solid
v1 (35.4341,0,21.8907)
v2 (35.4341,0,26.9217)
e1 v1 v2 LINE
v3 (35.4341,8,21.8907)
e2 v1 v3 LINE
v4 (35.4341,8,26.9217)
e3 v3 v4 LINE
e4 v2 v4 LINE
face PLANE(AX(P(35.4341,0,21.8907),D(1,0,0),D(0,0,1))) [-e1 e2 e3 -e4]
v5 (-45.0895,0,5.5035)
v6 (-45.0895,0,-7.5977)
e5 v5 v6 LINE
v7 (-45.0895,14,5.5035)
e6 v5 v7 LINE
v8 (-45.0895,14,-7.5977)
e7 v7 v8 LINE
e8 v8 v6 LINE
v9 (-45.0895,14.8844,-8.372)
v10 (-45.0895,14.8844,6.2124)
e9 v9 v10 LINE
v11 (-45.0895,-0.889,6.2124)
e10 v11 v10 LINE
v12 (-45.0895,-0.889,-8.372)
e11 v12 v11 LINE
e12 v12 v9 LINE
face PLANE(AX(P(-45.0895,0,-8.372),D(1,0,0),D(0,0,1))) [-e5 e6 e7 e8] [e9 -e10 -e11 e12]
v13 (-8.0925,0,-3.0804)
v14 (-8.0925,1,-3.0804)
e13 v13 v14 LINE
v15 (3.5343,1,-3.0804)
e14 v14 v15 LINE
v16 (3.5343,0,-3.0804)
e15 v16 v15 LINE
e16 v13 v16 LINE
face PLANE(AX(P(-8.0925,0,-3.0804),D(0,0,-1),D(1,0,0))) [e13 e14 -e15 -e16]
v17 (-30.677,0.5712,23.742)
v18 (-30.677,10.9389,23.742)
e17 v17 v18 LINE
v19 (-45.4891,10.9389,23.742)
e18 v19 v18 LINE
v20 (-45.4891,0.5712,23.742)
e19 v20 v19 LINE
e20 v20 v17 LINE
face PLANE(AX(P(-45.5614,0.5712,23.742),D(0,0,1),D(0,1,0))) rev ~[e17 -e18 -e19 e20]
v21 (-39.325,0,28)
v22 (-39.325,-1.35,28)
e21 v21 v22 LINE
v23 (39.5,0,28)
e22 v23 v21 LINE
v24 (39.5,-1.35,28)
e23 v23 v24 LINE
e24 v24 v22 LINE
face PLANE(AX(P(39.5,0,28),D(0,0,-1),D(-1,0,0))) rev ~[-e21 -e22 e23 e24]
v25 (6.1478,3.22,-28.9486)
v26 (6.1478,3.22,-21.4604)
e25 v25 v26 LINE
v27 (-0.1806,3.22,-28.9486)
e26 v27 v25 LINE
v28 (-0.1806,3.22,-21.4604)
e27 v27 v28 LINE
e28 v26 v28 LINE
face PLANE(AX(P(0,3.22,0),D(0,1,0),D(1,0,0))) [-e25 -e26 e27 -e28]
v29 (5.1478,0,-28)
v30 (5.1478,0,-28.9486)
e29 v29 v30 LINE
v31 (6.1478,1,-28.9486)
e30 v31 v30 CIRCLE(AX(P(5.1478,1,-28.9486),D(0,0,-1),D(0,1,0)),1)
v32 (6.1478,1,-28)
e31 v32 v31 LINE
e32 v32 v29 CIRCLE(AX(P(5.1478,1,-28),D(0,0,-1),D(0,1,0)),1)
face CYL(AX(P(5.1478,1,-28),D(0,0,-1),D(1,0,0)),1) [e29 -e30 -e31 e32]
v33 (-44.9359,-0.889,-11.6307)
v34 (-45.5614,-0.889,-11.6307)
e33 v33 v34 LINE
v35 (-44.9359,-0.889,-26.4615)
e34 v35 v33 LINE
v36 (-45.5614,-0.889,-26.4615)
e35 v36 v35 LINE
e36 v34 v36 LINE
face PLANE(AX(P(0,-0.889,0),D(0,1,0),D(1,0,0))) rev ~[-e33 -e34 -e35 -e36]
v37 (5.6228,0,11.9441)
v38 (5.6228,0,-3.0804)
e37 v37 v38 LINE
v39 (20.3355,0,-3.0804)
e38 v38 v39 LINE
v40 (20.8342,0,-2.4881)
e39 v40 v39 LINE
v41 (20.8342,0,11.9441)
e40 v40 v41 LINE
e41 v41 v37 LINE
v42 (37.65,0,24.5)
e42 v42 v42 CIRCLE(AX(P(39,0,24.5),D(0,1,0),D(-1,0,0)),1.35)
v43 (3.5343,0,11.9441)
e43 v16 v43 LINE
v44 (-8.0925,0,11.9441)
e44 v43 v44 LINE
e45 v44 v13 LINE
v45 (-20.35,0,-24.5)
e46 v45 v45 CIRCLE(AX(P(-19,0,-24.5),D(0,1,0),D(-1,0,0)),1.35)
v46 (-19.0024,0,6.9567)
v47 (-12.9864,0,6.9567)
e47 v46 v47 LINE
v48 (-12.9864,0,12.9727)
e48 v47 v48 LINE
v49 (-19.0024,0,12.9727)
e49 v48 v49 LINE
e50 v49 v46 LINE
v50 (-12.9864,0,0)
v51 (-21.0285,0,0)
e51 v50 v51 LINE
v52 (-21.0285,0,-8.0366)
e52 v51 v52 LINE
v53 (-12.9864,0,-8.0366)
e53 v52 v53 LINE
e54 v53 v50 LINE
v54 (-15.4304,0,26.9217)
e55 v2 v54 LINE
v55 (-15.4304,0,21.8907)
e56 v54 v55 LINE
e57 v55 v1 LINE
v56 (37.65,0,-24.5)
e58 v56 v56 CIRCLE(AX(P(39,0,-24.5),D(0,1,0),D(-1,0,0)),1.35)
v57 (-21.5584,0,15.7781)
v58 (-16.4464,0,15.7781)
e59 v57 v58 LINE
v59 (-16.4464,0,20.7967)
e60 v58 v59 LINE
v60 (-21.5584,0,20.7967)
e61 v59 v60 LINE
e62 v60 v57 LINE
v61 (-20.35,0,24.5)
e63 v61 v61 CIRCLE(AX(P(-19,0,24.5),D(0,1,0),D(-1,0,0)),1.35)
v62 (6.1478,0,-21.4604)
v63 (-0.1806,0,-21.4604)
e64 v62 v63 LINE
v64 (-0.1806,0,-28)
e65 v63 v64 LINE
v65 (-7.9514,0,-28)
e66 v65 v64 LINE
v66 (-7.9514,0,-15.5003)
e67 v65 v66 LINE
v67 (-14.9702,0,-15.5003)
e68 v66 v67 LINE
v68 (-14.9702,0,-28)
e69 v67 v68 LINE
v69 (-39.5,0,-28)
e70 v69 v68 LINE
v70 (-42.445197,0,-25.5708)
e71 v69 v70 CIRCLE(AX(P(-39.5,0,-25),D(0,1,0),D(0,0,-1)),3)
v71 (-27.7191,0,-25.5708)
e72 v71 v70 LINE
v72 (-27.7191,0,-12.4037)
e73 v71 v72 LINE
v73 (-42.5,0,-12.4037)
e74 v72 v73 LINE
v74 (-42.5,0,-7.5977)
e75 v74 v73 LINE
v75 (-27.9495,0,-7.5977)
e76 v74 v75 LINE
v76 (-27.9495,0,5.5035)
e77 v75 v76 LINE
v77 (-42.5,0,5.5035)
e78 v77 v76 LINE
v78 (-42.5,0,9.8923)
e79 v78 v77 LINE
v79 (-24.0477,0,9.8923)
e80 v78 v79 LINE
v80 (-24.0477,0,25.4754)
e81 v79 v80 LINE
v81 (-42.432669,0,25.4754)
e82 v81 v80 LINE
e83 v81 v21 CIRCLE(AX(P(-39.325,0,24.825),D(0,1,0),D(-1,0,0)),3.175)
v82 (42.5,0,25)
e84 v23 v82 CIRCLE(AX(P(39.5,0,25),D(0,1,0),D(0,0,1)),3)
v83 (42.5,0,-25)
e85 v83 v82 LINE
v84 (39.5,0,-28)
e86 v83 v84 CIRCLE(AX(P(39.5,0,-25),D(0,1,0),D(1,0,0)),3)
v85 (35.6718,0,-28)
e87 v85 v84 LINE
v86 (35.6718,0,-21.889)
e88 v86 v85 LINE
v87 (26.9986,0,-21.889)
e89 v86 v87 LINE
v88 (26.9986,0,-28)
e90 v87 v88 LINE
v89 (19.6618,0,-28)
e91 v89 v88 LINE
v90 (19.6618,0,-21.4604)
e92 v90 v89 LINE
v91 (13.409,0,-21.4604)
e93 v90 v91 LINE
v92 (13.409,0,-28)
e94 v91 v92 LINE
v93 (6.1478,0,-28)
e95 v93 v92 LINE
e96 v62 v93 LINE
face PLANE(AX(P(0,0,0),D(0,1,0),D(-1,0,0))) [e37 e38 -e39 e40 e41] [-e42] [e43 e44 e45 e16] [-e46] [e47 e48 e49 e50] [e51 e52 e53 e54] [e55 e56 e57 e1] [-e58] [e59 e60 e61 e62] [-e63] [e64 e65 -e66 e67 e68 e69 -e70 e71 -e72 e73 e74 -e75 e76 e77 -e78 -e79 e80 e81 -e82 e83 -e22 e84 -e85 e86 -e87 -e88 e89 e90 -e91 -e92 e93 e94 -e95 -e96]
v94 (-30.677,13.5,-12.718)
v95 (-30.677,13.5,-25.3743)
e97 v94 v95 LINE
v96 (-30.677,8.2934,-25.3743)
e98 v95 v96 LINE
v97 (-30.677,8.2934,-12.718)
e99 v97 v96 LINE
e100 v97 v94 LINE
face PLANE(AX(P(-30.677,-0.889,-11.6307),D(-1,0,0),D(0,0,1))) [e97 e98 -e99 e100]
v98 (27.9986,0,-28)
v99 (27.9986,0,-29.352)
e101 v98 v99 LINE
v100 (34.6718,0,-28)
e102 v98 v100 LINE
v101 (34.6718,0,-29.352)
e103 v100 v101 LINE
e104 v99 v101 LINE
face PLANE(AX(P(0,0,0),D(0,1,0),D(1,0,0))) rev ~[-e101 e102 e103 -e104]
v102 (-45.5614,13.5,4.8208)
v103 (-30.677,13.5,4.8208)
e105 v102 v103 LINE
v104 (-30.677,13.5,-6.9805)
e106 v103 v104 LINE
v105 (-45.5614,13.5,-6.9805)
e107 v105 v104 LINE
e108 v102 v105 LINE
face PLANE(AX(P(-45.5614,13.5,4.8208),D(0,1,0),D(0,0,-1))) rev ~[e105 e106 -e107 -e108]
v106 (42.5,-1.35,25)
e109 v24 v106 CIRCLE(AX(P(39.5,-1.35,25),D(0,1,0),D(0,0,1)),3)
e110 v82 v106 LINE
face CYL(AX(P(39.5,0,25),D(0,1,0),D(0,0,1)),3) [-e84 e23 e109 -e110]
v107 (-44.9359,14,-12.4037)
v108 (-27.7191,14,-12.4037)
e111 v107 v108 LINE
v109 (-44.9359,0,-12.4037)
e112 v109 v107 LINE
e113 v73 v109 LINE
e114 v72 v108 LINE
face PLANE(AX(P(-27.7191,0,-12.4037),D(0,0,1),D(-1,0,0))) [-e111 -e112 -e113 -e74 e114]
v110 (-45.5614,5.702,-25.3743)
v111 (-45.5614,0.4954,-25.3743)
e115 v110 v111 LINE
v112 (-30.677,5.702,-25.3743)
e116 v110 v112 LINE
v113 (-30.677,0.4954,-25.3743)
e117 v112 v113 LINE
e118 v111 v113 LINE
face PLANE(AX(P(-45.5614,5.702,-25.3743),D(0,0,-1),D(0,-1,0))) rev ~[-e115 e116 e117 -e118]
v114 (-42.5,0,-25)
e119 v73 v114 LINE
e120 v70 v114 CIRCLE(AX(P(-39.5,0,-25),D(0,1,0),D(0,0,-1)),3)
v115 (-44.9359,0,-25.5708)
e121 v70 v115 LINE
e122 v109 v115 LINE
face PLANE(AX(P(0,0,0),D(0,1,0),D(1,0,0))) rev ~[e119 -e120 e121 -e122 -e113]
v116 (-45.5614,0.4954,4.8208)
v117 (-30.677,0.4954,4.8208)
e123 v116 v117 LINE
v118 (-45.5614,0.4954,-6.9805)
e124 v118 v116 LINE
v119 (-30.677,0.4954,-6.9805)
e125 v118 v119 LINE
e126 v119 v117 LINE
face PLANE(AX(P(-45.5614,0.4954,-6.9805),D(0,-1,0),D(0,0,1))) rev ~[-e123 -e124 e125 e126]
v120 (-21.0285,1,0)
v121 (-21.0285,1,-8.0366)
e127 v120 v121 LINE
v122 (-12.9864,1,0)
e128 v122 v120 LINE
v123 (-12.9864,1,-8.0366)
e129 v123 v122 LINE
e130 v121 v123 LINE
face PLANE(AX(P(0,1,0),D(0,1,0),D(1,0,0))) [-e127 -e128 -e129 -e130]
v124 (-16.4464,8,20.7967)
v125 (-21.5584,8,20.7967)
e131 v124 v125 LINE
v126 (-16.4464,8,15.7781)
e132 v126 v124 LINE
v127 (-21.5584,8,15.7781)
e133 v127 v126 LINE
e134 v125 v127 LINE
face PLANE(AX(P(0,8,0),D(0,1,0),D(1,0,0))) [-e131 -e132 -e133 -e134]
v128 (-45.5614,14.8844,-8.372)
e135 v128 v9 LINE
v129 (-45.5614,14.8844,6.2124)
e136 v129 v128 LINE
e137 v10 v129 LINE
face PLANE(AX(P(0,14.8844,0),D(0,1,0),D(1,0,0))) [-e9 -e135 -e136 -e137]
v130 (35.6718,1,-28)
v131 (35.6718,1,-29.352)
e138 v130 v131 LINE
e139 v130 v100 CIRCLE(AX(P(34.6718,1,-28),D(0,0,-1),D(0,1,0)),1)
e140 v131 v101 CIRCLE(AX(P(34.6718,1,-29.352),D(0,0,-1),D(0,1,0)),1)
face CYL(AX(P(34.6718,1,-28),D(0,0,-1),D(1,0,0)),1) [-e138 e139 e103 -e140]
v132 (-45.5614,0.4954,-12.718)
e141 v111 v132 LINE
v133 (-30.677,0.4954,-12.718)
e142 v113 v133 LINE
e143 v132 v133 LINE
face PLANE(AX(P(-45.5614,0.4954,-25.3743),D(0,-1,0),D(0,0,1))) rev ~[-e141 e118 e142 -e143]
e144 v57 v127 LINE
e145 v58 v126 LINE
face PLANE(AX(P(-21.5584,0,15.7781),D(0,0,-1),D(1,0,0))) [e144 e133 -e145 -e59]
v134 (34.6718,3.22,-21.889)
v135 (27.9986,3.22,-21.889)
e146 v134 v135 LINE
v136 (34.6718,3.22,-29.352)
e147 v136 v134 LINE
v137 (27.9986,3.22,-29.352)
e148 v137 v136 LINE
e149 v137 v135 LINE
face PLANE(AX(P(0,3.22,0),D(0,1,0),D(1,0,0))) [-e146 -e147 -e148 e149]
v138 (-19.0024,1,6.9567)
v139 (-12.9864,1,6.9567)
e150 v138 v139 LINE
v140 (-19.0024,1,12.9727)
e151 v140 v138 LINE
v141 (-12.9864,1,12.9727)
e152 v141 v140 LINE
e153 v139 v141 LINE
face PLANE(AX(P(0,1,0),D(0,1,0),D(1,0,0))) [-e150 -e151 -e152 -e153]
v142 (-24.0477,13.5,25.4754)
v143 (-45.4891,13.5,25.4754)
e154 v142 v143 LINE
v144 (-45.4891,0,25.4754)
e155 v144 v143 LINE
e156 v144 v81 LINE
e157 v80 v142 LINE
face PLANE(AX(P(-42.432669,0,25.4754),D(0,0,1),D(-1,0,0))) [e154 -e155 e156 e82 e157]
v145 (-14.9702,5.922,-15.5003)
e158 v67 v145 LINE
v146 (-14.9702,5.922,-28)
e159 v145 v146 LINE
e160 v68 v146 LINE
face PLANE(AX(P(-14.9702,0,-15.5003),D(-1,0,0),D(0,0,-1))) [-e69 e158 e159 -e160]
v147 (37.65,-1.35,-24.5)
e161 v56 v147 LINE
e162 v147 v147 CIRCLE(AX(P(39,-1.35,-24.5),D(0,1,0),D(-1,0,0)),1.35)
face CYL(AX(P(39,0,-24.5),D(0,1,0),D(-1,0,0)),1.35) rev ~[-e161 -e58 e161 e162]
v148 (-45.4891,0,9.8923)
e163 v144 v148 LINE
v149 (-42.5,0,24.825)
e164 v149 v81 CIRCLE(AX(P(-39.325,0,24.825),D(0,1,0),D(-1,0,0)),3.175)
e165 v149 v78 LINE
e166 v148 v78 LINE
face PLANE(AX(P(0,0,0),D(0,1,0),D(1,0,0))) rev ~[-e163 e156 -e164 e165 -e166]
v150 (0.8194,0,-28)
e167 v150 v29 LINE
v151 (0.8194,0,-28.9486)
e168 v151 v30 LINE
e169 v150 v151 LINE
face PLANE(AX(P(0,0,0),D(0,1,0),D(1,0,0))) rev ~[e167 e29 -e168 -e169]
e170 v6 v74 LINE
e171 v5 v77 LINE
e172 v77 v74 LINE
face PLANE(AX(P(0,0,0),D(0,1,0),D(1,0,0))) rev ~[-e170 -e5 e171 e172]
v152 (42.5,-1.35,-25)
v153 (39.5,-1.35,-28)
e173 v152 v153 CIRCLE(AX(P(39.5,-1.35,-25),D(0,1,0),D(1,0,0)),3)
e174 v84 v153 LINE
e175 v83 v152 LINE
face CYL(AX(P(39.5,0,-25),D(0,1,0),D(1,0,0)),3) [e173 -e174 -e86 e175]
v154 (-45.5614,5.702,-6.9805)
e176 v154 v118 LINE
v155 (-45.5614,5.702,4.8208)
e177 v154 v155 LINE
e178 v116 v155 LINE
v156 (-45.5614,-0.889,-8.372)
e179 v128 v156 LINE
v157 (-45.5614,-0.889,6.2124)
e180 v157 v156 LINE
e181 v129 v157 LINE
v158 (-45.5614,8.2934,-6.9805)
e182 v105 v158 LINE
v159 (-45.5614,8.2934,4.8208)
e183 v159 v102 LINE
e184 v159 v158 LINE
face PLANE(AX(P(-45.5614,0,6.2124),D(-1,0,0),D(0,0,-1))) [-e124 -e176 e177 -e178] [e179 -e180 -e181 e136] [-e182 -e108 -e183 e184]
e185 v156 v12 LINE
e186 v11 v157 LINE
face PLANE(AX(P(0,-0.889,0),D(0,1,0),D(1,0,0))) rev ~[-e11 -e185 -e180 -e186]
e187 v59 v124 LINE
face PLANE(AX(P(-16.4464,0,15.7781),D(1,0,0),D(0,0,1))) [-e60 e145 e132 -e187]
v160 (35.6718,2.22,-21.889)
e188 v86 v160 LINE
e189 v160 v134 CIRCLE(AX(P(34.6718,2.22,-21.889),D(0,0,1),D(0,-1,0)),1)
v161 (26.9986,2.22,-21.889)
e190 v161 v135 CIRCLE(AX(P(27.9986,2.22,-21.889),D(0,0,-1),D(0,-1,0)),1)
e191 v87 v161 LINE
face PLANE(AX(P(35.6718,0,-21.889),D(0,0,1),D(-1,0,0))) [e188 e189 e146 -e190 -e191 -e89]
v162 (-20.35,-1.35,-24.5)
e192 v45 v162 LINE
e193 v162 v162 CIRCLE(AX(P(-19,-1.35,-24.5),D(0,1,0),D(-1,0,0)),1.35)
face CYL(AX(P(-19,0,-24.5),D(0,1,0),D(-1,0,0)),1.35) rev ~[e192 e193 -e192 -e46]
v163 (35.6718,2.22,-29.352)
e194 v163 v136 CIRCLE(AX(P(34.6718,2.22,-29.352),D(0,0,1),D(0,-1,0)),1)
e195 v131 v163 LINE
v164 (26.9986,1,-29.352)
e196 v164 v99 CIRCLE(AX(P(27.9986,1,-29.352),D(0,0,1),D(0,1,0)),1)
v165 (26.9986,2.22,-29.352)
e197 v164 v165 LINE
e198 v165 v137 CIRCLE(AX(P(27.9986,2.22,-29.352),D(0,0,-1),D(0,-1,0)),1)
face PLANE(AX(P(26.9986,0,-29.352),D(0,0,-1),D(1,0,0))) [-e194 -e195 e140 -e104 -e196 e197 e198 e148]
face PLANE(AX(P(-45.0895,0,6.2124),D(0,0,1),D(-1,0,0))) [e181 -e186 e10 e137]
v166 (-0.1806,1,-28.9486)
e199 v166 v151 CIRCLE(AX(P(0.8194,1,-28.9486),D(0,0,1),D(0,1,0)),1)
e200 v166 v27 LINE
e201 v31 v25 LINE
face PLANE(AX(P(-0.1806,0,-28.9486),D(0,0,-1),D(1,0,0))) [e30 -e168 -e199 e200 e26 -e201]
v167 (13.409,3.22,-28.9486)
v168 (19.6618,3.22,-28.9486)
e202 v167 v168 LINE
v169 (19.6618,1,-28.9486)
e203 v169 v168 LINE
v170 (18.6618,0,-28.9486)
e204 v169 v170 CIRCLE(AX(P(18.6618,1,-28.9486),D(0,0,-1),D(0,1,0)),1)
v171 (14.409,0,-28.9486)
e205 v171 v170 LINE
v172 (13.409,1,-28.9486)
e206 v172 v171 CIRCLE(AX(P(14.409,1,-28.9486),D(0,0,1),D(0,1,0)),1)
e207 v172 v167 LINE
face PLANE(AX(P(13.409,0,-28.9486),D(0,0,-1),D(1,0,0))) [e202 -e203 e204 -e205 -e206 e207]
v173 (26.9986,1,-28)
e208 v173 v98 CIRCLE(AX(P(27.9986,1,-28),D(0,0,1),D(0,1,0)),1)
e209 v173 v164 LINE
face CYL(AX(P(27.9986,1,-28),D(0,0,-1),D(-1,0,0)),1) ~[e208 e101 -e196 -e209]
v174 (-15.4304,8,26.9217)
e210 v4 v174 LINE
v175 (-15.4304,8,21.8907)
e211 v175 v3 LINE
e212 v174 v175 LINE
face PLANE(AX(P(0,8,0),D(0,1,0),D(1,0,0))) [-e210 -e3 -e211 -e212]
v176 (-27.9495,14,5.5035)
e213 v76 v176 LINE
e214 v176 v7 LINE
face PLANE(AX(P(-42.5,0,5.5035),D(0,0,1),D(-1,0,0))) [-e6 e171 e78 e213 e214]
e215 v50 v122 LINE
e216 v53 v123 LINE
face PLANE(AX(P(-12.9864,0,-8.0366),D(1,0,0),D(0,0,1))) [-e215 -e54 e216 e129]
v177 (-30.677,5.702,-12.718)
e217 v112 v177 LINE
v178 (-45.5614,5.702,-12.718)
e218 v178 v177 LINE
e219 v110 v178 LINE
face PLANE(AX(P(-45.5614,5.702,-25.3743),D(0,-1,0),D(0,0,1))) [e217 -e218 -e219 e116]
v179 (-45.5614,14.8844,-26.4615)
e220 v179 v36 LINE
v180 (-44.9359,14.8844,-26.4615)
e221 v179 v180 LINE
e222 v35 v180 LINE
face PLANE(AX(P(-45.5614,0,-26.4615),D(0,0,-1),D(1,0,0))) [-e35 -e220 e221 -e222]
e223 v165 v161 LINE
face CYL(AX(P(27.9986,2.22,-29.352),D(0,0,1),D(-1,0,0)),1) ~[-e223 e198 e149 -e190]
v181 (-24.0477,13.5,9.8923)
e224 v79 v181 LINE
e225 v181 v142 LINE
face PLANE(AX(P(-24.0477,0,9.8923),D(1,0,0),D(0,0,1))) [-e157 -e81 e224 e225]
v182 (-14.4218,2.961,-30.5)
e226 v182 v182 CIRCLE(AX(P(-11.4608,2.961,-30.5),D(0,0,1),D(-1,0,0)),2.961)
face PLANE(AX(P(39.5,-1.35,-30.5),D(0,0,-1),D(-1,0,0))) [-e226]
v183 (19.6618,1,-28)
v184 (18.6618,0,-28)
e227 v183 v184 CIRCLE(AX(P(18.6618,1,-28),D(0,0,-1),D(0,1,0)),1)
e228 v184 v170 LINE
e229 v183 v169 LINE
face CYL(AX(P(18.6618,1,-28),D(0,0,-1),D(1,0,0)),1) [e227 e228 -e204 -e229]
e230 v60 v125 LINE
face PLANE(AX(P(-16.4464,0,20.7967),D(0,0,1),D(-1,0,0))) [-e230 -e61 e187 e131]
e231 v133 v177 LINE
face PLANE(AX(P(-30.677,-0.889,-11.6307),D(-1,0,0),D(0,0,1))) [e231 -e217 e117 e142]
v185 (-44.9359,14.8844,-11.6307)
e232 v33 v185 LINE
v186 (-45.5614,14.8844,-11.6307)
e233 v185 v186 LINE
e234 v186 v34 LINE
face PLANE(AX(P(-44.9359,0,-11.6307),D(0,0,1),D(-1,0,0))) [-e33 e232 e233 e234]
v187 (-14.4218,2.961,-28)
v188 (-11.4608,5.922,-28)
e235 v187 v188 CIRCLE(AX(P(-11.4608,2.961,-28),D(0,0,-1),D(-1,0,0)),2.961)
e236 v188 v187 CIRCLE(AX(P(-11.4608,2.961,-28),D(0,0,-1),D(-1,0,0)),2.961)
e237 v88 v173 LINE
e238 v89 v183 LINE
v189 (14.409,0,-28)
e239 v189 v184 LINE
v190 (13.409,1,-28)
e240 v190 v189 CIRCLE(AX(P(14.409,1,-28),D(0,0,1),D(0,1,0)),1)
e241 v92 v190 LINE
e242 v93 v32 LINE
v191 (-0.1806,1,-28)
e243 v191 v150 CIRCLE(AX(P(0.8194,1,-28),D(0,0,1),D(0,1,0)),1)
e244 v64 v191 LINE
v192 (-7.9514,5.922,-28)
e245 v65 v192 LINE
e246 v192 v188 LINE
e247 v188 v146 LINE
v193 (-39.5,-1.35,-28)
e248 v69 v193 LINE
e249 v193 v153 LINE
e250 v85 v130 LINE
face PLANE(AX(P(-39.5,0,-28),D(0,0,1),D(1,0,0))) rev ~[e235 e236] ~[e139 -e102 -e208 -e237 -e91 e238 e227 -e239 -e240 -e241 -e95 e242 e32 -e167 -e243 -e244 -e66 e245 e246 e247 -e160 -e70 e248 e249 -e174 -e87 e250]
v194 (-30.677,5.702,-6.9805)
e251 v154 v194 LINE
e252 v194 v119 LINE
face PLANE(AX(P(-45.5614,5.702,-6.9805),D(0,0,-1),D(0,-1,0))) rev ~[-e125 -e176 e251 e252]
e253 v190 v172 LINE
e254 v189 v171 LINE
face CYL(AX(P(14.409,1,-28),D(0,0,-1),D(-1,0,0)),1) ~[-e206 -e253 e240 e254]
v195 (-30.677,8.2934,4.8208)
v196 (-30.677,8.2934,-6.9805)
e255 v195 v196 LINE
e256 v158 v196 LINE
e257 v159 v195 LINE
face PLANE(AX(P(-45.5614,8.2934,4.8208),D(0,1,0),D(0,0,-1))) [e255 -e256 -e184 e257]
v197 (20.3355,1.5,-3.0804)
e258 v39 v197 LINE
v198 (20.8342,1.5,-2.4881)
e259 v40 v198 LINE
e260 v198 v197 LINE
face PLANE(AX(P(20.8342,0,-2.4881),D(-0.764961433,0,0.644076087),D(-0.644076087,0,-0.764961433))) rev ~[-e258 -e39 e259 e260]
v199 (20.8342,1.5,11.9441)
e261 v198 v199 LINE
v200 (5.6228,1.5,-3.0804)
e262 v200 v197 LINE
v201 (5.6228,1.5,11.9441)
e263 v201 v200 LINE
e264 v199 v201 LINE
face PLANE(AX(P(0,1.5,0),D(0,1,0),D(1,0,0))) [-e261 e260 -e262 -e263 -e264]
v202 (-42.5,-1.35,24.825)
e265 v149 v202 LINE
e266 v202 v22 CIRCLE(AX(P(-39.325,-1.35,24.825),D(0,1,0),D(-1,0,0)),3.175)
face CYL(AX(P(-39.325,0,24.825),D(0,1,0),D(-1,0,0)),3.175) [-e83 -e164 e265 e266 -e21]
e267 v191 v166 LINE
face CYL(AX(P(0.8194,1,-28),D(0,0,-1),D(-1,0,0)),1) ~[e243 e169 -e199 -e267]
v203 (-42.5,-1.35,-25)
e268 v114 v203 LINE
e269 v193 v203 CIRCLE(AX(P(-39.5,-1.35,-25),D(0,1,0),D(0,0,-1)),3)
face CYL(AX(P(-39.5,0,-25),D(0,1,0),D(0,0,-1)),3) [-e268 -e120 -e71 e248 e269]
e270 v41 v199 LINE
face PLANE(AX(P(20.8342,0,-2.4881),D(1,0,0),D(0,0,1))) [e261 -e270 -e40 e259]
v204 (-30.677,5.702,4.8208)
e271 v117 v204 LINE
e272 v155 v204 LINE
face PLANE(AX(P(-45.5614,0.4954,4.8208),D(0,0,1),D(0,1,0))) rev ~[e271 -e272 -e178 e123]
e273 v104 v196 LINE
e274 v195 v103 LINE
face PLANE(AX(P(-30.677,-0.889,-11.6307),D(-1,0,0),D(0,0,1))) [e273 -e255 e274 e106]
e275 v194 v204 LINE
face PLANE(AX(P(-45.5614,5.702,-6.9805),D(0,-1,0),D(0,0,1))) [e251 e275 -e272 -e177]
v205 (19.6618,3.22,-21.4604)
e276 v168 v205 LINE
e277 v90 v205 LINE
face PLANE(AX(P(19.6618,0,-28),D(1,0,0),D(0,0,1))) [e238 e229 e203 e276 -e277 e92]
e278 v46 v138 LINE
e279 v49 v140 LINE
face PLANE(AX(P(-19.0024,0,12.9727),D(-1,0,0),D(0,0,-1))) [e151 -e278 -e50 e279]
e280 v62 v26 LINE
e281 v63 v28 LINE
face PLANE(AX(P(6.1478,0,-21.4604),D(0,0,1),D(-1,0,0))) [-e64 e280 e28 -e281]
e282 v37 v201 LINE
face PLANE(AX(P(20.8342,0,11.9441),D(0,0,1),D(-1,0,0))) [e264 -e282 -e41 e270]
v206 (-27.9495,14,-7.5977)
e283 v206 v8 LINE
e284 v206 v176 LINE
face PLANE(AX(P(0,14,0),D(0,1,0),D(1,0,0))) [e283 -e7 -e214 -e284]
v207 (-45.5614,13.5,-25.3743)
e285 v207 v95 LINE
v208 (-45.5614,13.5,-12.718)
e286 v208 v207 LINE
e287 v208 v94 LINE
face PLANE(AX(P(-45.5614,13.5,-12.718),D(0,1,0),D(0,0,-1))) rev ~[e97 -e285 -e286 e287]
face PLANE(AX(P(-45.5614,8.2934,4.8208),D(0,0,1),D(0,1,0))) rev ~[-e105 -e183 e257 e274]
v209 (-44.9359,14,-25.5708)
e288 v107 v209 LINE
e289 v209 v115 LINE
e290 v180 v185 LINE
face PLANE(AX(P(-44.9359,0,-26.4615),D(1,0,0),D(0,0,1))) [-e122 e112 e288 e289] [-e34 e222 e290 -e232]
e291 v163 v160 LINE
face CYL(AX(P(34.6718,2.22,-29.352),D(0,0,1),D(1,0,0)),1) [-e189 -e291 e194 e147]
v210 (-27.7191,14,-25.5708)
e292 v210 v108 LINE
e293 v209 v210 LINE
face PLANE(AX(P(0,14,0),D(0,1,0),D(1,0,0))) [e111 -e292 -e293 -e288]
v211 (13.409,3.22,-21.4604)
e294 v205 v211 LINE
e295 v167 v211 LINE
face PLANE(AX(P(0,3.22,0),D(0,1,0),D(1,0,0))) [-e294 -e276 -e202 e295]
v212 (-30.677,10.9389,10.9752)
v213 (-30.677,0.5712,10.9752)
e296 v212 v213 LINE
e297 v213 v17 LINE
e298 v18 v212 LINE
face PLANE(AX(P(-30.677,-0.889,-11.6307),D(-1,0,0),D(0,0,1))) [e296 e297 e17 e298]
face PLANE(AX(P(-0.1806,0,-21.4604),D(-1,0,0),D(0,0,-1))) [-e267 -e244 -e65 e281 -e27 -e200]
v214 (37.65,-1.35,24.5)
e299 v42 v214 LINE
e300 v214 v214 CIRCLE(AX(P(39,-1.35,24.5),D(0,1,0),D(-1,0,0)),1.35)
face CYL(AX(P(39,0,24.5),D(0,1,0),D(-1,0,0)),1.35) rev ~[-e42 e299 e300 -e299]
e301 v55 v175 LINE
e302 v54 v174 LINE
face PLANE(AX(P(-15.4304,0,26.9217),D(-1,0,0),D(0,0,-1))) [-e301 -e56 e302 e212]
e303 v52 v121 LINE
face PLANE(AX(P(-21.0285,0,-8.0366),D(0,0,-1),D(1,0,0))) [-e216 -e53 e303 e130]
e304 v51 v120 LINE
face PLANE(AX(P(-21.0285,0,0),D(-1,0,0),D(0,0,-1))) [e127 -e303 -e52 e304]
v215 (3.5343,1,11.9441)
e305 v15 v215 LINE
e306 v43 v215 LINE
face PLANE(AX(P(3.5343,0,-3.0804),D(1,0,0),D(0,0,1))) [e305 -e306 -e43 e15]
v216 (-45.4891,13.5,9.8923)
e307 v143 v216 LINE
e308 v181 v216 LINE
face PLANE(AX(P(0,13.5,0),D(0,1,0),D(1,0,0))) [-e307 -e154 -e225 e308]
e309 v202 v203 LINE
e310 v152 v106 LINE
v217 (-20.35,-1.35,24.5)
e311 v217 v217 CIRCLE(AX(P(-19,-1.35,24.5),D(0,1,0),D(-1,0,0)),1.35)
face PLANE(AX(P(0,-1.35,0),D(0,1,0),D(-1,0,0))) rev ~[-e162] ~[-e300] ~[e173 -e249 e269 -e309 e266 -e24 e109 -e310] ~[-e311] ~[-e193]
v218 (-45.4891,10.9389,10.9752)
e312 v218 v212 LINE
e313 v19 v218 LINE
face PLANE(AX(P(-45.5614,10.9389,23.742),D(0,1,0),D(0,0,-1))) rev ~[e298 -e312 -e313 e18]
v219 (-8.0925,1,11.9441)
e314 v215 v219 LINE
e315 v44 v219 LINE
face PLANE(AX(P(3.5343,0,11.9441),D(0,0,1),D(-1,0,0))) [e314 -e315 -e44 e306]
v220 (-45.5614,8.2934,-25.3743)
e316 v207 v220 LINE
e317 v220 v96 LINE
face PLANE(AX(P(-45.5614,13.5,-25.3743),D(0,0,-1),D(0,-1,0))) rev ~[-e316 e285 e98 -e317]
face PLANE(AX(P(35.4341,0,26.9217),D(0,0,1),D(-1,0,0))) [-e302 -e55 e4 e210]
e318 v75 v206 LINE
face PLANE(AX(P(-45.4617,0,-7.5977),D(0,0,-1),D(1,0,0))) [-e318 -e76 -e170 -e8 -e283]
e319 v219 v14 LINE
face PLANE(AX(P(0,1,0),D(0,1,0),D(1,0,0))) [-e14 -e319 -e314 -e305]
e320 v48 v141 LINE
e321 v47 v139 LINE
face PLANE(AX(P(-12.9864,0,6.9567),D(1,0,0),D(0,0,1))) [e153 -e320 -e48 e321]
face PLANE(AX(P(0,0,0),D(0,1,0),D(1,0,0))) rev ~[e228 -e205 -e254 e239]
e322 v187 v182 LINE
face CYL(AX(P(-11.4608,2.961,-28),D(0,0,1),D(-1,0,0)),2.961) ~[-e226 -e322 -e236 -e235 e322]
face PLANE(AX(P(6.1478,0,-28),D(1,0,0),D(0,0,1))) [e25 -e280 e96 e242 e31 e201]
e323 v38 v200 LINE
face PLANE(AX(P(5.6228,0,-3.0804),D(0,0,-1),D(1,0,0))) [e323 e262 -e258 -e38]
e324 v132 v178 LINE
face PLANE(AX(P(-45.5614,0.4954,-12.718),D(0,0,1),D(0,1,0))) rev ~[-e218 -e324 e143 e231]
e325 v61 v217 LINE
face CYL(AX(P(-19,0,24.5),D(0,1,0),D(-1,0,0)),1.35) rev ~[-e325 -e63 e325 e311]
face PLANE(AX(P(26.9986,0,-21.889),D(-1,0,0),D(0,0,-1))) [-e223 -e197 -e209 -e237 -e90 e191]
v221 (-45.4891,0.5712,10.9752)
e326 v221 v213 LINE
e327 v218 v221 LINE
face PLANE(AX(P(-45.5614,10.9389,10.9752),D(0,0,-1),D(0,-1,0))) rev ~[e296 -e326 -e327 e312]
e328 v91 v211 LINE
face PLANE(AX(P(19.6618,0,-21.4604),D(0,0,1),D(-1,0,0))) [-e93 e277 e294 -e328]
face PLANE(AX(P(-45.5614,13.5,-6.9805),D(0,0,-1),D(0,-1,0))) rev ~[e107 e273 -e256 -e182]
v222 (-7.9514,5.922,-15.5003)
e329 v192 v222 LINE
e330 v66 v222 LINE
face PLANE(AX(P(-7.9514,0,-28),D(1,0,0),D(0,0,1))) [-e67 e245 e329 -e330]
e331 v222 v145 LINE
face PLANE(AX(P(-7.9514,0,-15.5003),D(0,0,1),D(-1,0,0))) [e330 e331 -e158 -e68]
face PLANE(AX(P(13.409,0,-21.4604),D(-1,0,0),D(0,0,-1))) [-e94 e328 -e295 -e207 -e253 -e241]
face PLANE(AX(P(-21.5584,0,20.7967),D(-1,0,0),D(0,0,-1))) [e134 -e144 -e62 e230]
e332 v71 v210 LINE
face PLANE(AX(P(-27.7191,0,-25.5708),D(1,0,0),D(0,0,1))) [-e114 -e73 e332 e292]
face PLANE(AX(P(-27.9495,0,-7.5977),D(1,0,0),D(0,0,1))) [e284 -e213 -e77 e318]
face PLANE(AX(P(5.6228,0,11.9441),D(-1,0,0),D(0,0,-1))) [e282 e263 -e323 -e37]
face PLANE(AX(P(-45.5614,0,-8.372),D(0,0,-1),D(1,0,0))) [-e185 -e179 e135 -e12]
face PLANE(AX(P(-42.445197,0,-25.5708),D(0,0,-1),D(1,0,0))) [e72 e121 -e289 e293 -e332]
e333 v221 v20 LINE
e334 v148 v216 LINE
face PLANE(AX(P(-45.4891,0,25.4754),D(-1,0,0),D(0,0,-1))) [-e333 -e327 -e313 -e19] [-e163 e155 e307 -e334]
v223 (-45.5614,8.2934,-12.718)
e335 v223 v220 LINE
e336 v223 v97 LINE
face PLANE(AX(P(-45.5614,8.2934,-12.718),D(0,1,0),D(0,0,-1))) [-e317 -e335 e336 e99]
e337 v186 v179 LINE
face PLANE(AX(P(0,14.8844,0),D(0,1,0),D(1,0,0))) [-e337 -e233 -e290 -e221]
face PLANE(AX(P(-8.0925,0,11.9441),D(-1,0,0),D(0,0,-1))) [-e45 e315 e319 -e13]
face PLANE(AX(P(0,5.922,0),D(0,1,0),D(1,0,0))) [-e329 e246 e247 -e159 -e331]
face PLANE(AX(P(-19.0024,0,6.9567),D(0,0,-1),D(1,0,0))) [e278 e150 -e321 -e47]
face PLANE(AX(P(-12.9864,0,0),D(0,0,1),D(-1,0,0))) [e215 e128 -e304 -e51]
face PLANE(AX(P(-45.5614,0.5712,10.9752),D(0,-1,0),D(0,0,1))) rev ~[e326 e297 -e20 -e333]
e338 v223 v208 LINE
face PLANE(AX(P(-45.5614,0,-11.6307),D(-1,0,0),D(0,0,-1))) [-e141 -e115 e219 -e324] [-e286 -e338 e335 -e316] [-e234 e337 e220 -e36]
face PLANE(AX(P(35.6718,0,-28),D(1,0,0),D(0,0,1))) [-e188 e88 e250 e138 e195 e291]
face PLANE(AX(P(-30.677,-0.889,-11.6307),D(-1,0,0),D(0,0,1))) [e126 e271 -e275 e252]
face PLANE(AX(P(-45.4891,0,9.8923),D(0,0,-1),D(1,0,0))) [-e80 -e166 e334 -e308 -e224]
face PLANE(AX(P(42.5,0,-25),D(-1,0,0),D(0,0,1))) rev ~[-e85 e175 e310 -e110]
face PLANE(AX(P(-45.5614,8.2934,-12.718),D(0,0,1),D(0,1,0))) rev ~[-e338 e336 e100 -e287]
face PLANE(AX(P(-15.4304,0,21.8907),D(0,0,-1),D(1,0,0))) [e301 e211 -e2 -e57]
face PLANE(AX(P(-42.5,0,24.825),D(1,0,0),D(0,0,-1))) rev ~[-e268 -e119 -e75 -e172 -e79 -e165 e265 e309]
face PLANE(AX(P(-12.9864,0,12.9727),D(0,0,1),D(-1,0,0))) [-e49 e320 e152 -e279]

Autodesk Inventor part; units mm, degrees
ref_plane "YZ Plane" through (0, 0, 0) normal (1, 0, 0) x (0, 1, 0)
ref_plane "XZ Plane" through (0, 0, 0) normal (0, 1, 0) x (-1, 0, 0)
ref_plane "XY Plane" through (0, 0, 0) normal (0, 0, 1) x (1, 0, 0)
sketch "Sketch2" plane through (0, 0, 0) normal (0, 1, 0) x (-1, 0, 0)
  line L0 (-64.8849, 45.8064) -> (79.608, 45.8064) construction
  line L1 (79.608, 45.8064) -> (79.608, -48.1736) construction
  line L2 (79.608, -48.1736) -> (-64.8849, -48.1736) construction
  line L3 (-64.8849, -48.1736) -> (-64.8849, 45.8064) construction
  point P0 (0, 0)
  dimension "d21" = 93.98
sketch "Sketch1" plane through (0, 0, 0) normal (0, 1, 0) x (-1, 0, 0)
  line L0 (-39.5, 28) -> (39.325, 28)
  line L1 (42.5, 24.825) -> (42.5, -25)
  line L2 (39.5, -28) -> (-39.5, -28)
  line L3 (-42.5, -25) -> (-42.5, 25)
  line L4 (-42.5, 28) -> (42.5, -28) construction
  line L5 (42.5, 28) -> (-42.5, -28) construction
  circle A0 centre (-39, 24.5) radius 1.35
  circle A1 centre (-39, 24.5) radius 3
  circle A2 centre (-39, -24.5) radius 3
  circle A3 centre (-39, -24.5) radius 1.35
  circle A4 centre (19, -24.5) radius 1.35
  circle A5 centre (19, -24.5) radius 3
  line L6 (-39, -24.5) -> (20.35, -24.5) construction
  line L7 (19, -24.5) -> (19, 28) construction
  line L8 (19, 24.5) -> (-39, 24.5) construction
  circle A6 centre (19, 24.5) radius 1.35
  circle A7 centre (19, 24.5) radius 3
  arc A8 (42.5, 24.825) -> (39.325, 28) centre (39.325, 24.825) ccw
  arc A9 (39.5, -28) -> (42.5, -25) centre (39.5, -25) ccw
  arc A10 (-42.5, -25) -> (-39.5, -28) centre (-39.5, -25) ccw
  arc A11 (-39.5, 28) -> (-42.5, 25) centre (-39.5, 25) ccw
  point P0 (0, 0)
  dimension "d80" = 2.7
  dimension "d0" = 85
  dimension "d1" = 56
  dimension "d72" = 2.7
  dimension "d73" = 3.5
  dimension "d74" = 3.5
  dimension "d75" = 6
  dimension "d76" = 6
  dimension "d77" = 2.7
  dimension "d78" = 3.5
  dimension "d79" = 3.5
  dimension "d81" = 6
  dimension "d82" = 58
  dimension "d88" = 2.7
  dimension "d89" = 6
  dimension "d90" = 3.175
  dimension "d91" = 3
extrude "Extrusion1" add sketch "Sketch1" against normal blind 1.35 contours L0 A8 L1 A9 L2 A10 L3 A11 | A1 | A2 | A5 | A7
sketch "Sketch3" plane through (0, 0, 0) normal (0, 1, 0) x (1, 0, 0)
  line L0 (39.5, 28) -> (-39.5, 28) projected
  arc A0 (-39.5, 28) -> (-42.5, 25) centre (-39.5, 25) ccw projected
  line L1 (-42.5, 25) -> (-42.5, -24.825) projected
  arc A1 (-42.5, -24.825) -> (-39.325, -28) centre (-39.325, -24.825) ccw projected
  line L2 (-39.325, -28) -> (39.5, -28) projected
  arc A2 (39.5, -28) -> (42.5, -25) centre (39.5, -25) ccw projected
  line L3 (42.5, -25) -> (42.5, 25) projected
  arc A3 (42.5, 25) -> (39.5, 28) centre (39.5, 25) ccw projected
  circle A4 centre (39, -24.5) radius 1.35 projected
  circle A5 centre (39, 24.5) radius 1.35 projected
  circle A6 centre (-19, 24.5) radius 1.35 projected
  circle A7 centre (-19, -24.5) radius 1.35 projected
  line L4 (-24.0477, -25.4754) -> (-45.4891, -25.4754)
  line L5 (-45.4891, -25.4754) -> (-45.4891, -9.8923)
  line L6 (-45.4891, -9.8923) -> (-24.0477, -9.8923)
  line L7 (-24.0477, -9.8923) -> (-24.0477, -25.4754)
  line L8 (-27.9495, -5.5035) -> (-45.4617, -5.5035)
  line L9 (-45.4617, -5.5035) -> (-45.4617, 7.5977)
  line L10 (-45.4617, 7.5977) -> (-27.9495, 7.5977)
  line L11 (-27.9495, 7.5977) -> (-27.9495, -5.5035)
  line L12 (-27.7191, 12.4037) -> (-45.4891, 12.4037)
  line L13 (-45.4891, 12.4037) -> (-45.4891, 25.5708)
  line L14 (-45.4891, 25.5708) -> (-27.7191, 25.5708)
  line L15 (-27.7191, 25.5708) -> (-27.7191, 12.4037)
  line L16 (35.4341, -26.9217) -> (-15.4304, -26.9217)
  line L17 (-15.4304, -26.9217) -> (-15.4304, -21.8907)
  line L18 (-15.4304, -21.8907) -> (35.4341, -21.8907)
  line L19 (35.4341, -21.8907) -> (35.4341, -26.9217)
  line L20 (-16.4464, -20.7967) -> (-21.5584, -20.7967)
  line L21 (-21.5584, -20.7967) -> (-21.5584, -15.7781)
  line L22 (-21.5584, -15.7781) -> (-16.4464, -15.7781)
  line L23 (-16.4464, -15.7781) -> (-16.4464, -20.7967)
  line L24 (-12.9864, -12.9727) -> (-19.0024, -12.9727)
  line L25 (-19.0024, -12.9727) -> (-19.0024, -6.9567)
  line L26 (-19.0024, -6.9567) -> (-12.9864, -6.9567)
  line L27 (-12.9864, -6.9567) -> (-12.9864, -12.9727)
  line L28 (-12.9864, 0) -> (-21.0285, 0)
  line L29 (-21.0285, 0) -> (-21.0285, 8.0366)
  line L30 (-21.0285, 8.0366) -> (-12.9864, 8.0366)
  line L31 (-12.9864, 8.0366) -> (-12.9864, 0)
  line L32 (3.5343, -11.9441) -> (-8.0925, -11.9441)
  line L33 (-8.0925, -11.9441) -> (-8.0925, 3.0804)
  line L34 (-8.0925, 3.0804) -> (3.5343, 3.0804)
  line L35 (3.5343, 3.0804) -> (3.5343, -11.9441)
  line L36 (20.8342, -11.9441) -> (5.6228, -11.9441)
  line L37 (5.6228, -11.9441) -> (5.6228, 3.0804)
  line L38 (5.6228, 3.0804) -> (20.3355, 3.0804)
  line L39 (20.8342, 2.4881) -> (20.8342, -11.9441)
  line L40 (20.8342, 2.4881) -> (20.3355, 3.0804)
  line L41 (35.6718, 21.889) -> (26.9986, 21.889)
  line L42 (26.9986, 21.889) -> (26.9986, 29.352)
  line L43 (26.9986, 29.352) -> (35.6718, 29.352)
  line L44 (35.6718, 29.352) -> (35.6718, 21.889)
  line L45 (19.6618, 21.4604) -> (13.409, 21.4604)
  line L46 (13.409, 21.4604) -> (13.409, 28.9486)
  line L47 (13.409, 28.9486) -> (19.6618, 28.9486)
  line L48 (19.6618, 28.9486) -> (19.6618, 21.4604)
  line L49 (6.1478, 21.4604) -> (-0.1806, 21.4604)
  line L50 (-0.1806, 21.4604) -> (-0.1806, 28.9486)
  line L51 (-0.1806, 28.9486) -> (6.1478, 28.9486)
  line L52 (6.1478, 28.9486) -> (6.1478, 21.4604)
  line L53 (-7.9514, 15.5003) -> (-14.9702, 15.5003)
  line L54 (-14.9702, 15.5003) -> (-14.9702, 28.1482)
  line L55 (-14.9702, 28.1482) -> (-7.9514, 28.1482)
  line L56 (-7.9514, 28.1482) -> (-7.9514, 15.5003)
  point P0 (0, 0)
  point P1 (-42.5, -9.8923)
  point P2 (-42.4327, -25.4754)
  point P3 (-7.9514, 28)
  point P4 (-14.9702, 28)
extrude "Extrusion2" add sketch "Sketch3" along normal blind 14 contours L8 L9 L10 L1 | L1 L10 L11 L8 | L14 L15 L12 L1 A0 | A0 L1 L12 L13 L14
extrude "Extrusion3" add sketch "Sketch3" along normal blind 13.5 contours L4 L5 L6 L1 A1 | A1 L1 L6 L7 L4
extrude "Extrusion4" add sketch "Sketch3" along normal blind 1.5 contours L36 L37 L38 L40 L39
extrude "Extrusion5" add sketch "Sketch3" along normal blind 1 contours L24 L25 L26 L27 | L28 L29 L30 L31 | L32 L33 L34 L35
extrude "Extrusion6" add sketch "Sketch3" along normal blind 8 contours L16 L17 L18 L19 | L20 L21 L22 L23
extrude "Extrusion7" add sketch "Sketch3" along normal blind 3.22 contours L44 L41 L42 L0 | L0 L42 L43 L44 | L48 L45 L46 L0 | L0 L46 L47 L48 | L52 L49 L50 L0 | L0 L50 L51 L52
extrude "Extrusion8" add sketch "Sketch3" along normal blind 5.922 contours L56 L53 L54 L0
sketch "Sketch4" plane through (39.5, -1.35, -28) normal (0, 0, -1) x (-1, 0, 0)
  line L0 (0, 1.35) -> (3.8282, 1.35) projected
  line L1 (0, 1.35) -> (0, 0) projected
  line L2 (79, 0) -> (0, 0) projected
  line L3 (79, 1.35) -> (79, 0) projected
  line L4 (54.4702, 1.35) -> (79, 1.35) projected
  line L5 (54.4702, 1.35) -> (54.4702, 7.272) projected
  line L6 (47.4514, 7.272) -> (54.4702, 7.272) projected
  line L7 (47.4514, 1.35) -> (47.4514, 7.272) projected
  line L8 (39.6806, 1.35) -> (47.4514, 1.35) projected
  line L9 (33.3522, 1.35) -> (39.6806, 1.35) projected
  line L10 (26.091, 1.35) -> (33.3522, 1.35) projected
  line L11 (19.8382, 1.35) -> (26.091, 1.35) projected
  line L12 (12.5014, 1.35) -> (19.8382, 1.35) projected
  line L13 (3.8282, 1.35) -> (12.5014, 1.35) projected
  line L14 (47.4514, 7.272) -> (54.4702, 1.35) construction
  circle A0 centre (50.9608, 4.311) radius 2.961
  point P0 (39.5, 1.35)
extrude "Extrusion9" add sketch "Sketch4" along normal blind 2.5 contours A0
sketch "Sketch5" plane through (0, 0, 0) normal (0, 1, 0) x (1, 0, 0)
  line L0 (-44.9359, 11.6307) -> (-45.5614, 11.6307)
  line L1 (-45.5614, 11.6307) -> (-45.5614, 26.4615)
  line L2 (-45.5614, 26.4615) -> (-44.9359, 26.4615)
  line L3 (-44.9359, 26.4615) -> (-44.9359, 11.6307)
  line L4 (-45.0895, -6.2124) -> (-45.5614, -6.2124)
  line L5 (-45.5614, -6.2124) -> (-45.5614, 8.372)
  line L6 (-45.5614, 8.372) -> (-45.0895, 8.372)
  line L7 (-45.0895, 8.372) -> (-45.0895, -6.2124)
  point P0 (0, 0)
extrude "Extrusion10" add sketch "Sketch5" along normal blind 14.8844 and the other way blind 0.889
sketch "Sketch6" plane through (-45.5614, -0.889, -11.6307) normal (-1, 0, 0) x (0, 0, 1)
  line L0 (0, 0) -> (0, 15.7734) projected
  line L1 (-14.8308, 15.7734) -> (0, 15.7734) projected
  line L2 (-14.8308, 0) -> (-14.8308, 15.7734) projected
  line L3 (0, 0) -> (-14.8308, 0) projected
  line L4 (17.8431, 0) -> (17.8431, 15.7734) projected
  line L5 (3.2587, 15.7734) -> (17.8431, 15.7734) projected
  line L6 (3.2587, 0) -> (3.2587, 15.7734) projected
  line L7 (17.8431, 0) -> (3.2587, 0) projected
  line L8 (-13.3693, 0.889) -> (-0.773, 0.889) projected
  line L9 (-13.3693, 0.889) -> (-13.3693, -0.461) projected
  line L10 (36.4557, -0.461) -> (-13.3693, -0.461) projected
  line L11 (17.1342, 0.889) -> (21.523, 0.889) projected
  line L12 (4.0329, 0.889) -> (17.1342, 0.889) projected
  line L13 (-0.773, 0.889) -> (4.0329, 0.889) projected
  line L14 (-14.8308, 15.7734) -> (0, 0) construction
  line L15 (17.8431, 15.7734) -> (3.2587, 15.7734) construction
  line L16 (3.2587, 15.7734) -> (17.8431, 0) construction
  line L17 (21.523, 14.389) -> (36.4557, 0.889) construction
  line L18 (-13.7436, 1.3844) -> (-1.0873, 1.3844)
  line L19 (-1.0873, 1.3844) -> (-1.0873, 14.389)
  line L20 (-1.0873, 14.389) -> (-13.7436, 14.389)
  line L21 (-13.7436, 14.389) -> (-13.7436, 1.3844)
  line L22 (-13.7436, 1.3844) -> (-1.0873, 14.389) construction
  line L23 (-1.0873, 1.3844) -> (-13.7436, 14.389) construction
  line L24 (4.6502, 1.3844) -> (16.4515, 1.3844)
  line L25 (16.4515, 1.3844) -> (16.4515, 14.389)
  line L26 (16.4515, 14.389) -> (4.6502, 14.389)
  line L27 (4.6502, 14.389) -> (4.6502, 1.3844)
  line L28 (4.6502, 1.3844) -> (16.4515, 14.389) construction
  line L29 (16.4515, 1.3844) -> (4.6502, 14.389) construction
  line L30 (22.6059, 1.4602) -> (35.3727, 1.4602)
  line L31 (35.3727, 1.4602) -> (35.3727, 11.8279)
  line L32 (35.3727, 11.8279) -> (22.6059, 11.8279)
  line L33 (22.6059, 11.8279) -> (22.6059, 1.4602)
  line L34 (22.6059, 1.4602) -> (35.3727, 11.8279) construction
  line L35 (35.3727, 1.4602) -> (22.6059, 11.8279) construction
  line L36 (-13.7436, 6.591) -> (-1.0873, 6.591)
  line L37 (-1.0873, 6.591) -> (-1.0873, 9.1824)
  line L38 (-1.0873, 9.1824) -> (-13.7436, 9.1824)
  line L39 (-13.7436, 9.1824) -> (-13.7436, 6.591)
  line L40 (-13.7436, 6.591) -> (-1.0873, 9.1824) construction
  line L41 (-1.0873, 6.591) -> (-13.7436, 9.1824) construction
  line L42 (4.6502, 6.591) -> (16.4515, 6.591)
  line L43 (16.4515, 6.591) -> (16.4515, 9.1824)
  line L44 (16.4515, 9.1824) -> (4.6502, 9.1824)
  line L45 (4.6502, 9.1824) -> (4.6502, 6.591)
  line L46 (4.6502, 6.591) -> (16.4515, 9.1824) construction
  line L47 (16.4515, 6.591) -> (4.6502, 9.1824) construction
  line L48 (36.4557, 0.889) -> (36.4557, -0.461) projected
  line L49 (21.523, 0.889) -> (36.4557, 0.889) projected
  point P0 (11.6307, 0.889)
  point P1 (-7.4154, 7.8867)
  point P2 (10.5509, 7.8867)
  point P3 (28.9893, 6.644)
  point P4 (-1.0873, 6.591)
  point P5 (-13.7436, 6.591)
  point P6 (-13.7436, 9.1824)
extrude "Extrusion11" cut sketch "Sketch6" against normal blind 14.8844 contours L21 L36 L19 L18 | L21 L20 L19 L38 | L27 L42 L25 L24 | L27 L26 L25 L44 | L33 L32 L31 L30
fillet "Fillet1" radius 1 8 edges at (26.9986, 3.22, -25.6205) (35.6718, 3.22, -25.6205) (26.9986, 0, -28.676) (35.6718, 0, -28.676) (19.6618, 0, -28.4743) (13.409, 0, -28.4743) (6.1478, 0, -28.4743) (-0.1806, 0, -28.4743)
equation "\"d80\" = d77"
equation "\"d74\" = d73"
equation "\"d76\" = d75"
equation "\"d77\" = d72"
equation "\"d78\" = d74"
equation "\"d79\" = d78"
equation "\"d81\" = d76"
equation "\"d88\" = d72"
equation "\"d89\" = d75"
properties part number "RaspberryPi4"
